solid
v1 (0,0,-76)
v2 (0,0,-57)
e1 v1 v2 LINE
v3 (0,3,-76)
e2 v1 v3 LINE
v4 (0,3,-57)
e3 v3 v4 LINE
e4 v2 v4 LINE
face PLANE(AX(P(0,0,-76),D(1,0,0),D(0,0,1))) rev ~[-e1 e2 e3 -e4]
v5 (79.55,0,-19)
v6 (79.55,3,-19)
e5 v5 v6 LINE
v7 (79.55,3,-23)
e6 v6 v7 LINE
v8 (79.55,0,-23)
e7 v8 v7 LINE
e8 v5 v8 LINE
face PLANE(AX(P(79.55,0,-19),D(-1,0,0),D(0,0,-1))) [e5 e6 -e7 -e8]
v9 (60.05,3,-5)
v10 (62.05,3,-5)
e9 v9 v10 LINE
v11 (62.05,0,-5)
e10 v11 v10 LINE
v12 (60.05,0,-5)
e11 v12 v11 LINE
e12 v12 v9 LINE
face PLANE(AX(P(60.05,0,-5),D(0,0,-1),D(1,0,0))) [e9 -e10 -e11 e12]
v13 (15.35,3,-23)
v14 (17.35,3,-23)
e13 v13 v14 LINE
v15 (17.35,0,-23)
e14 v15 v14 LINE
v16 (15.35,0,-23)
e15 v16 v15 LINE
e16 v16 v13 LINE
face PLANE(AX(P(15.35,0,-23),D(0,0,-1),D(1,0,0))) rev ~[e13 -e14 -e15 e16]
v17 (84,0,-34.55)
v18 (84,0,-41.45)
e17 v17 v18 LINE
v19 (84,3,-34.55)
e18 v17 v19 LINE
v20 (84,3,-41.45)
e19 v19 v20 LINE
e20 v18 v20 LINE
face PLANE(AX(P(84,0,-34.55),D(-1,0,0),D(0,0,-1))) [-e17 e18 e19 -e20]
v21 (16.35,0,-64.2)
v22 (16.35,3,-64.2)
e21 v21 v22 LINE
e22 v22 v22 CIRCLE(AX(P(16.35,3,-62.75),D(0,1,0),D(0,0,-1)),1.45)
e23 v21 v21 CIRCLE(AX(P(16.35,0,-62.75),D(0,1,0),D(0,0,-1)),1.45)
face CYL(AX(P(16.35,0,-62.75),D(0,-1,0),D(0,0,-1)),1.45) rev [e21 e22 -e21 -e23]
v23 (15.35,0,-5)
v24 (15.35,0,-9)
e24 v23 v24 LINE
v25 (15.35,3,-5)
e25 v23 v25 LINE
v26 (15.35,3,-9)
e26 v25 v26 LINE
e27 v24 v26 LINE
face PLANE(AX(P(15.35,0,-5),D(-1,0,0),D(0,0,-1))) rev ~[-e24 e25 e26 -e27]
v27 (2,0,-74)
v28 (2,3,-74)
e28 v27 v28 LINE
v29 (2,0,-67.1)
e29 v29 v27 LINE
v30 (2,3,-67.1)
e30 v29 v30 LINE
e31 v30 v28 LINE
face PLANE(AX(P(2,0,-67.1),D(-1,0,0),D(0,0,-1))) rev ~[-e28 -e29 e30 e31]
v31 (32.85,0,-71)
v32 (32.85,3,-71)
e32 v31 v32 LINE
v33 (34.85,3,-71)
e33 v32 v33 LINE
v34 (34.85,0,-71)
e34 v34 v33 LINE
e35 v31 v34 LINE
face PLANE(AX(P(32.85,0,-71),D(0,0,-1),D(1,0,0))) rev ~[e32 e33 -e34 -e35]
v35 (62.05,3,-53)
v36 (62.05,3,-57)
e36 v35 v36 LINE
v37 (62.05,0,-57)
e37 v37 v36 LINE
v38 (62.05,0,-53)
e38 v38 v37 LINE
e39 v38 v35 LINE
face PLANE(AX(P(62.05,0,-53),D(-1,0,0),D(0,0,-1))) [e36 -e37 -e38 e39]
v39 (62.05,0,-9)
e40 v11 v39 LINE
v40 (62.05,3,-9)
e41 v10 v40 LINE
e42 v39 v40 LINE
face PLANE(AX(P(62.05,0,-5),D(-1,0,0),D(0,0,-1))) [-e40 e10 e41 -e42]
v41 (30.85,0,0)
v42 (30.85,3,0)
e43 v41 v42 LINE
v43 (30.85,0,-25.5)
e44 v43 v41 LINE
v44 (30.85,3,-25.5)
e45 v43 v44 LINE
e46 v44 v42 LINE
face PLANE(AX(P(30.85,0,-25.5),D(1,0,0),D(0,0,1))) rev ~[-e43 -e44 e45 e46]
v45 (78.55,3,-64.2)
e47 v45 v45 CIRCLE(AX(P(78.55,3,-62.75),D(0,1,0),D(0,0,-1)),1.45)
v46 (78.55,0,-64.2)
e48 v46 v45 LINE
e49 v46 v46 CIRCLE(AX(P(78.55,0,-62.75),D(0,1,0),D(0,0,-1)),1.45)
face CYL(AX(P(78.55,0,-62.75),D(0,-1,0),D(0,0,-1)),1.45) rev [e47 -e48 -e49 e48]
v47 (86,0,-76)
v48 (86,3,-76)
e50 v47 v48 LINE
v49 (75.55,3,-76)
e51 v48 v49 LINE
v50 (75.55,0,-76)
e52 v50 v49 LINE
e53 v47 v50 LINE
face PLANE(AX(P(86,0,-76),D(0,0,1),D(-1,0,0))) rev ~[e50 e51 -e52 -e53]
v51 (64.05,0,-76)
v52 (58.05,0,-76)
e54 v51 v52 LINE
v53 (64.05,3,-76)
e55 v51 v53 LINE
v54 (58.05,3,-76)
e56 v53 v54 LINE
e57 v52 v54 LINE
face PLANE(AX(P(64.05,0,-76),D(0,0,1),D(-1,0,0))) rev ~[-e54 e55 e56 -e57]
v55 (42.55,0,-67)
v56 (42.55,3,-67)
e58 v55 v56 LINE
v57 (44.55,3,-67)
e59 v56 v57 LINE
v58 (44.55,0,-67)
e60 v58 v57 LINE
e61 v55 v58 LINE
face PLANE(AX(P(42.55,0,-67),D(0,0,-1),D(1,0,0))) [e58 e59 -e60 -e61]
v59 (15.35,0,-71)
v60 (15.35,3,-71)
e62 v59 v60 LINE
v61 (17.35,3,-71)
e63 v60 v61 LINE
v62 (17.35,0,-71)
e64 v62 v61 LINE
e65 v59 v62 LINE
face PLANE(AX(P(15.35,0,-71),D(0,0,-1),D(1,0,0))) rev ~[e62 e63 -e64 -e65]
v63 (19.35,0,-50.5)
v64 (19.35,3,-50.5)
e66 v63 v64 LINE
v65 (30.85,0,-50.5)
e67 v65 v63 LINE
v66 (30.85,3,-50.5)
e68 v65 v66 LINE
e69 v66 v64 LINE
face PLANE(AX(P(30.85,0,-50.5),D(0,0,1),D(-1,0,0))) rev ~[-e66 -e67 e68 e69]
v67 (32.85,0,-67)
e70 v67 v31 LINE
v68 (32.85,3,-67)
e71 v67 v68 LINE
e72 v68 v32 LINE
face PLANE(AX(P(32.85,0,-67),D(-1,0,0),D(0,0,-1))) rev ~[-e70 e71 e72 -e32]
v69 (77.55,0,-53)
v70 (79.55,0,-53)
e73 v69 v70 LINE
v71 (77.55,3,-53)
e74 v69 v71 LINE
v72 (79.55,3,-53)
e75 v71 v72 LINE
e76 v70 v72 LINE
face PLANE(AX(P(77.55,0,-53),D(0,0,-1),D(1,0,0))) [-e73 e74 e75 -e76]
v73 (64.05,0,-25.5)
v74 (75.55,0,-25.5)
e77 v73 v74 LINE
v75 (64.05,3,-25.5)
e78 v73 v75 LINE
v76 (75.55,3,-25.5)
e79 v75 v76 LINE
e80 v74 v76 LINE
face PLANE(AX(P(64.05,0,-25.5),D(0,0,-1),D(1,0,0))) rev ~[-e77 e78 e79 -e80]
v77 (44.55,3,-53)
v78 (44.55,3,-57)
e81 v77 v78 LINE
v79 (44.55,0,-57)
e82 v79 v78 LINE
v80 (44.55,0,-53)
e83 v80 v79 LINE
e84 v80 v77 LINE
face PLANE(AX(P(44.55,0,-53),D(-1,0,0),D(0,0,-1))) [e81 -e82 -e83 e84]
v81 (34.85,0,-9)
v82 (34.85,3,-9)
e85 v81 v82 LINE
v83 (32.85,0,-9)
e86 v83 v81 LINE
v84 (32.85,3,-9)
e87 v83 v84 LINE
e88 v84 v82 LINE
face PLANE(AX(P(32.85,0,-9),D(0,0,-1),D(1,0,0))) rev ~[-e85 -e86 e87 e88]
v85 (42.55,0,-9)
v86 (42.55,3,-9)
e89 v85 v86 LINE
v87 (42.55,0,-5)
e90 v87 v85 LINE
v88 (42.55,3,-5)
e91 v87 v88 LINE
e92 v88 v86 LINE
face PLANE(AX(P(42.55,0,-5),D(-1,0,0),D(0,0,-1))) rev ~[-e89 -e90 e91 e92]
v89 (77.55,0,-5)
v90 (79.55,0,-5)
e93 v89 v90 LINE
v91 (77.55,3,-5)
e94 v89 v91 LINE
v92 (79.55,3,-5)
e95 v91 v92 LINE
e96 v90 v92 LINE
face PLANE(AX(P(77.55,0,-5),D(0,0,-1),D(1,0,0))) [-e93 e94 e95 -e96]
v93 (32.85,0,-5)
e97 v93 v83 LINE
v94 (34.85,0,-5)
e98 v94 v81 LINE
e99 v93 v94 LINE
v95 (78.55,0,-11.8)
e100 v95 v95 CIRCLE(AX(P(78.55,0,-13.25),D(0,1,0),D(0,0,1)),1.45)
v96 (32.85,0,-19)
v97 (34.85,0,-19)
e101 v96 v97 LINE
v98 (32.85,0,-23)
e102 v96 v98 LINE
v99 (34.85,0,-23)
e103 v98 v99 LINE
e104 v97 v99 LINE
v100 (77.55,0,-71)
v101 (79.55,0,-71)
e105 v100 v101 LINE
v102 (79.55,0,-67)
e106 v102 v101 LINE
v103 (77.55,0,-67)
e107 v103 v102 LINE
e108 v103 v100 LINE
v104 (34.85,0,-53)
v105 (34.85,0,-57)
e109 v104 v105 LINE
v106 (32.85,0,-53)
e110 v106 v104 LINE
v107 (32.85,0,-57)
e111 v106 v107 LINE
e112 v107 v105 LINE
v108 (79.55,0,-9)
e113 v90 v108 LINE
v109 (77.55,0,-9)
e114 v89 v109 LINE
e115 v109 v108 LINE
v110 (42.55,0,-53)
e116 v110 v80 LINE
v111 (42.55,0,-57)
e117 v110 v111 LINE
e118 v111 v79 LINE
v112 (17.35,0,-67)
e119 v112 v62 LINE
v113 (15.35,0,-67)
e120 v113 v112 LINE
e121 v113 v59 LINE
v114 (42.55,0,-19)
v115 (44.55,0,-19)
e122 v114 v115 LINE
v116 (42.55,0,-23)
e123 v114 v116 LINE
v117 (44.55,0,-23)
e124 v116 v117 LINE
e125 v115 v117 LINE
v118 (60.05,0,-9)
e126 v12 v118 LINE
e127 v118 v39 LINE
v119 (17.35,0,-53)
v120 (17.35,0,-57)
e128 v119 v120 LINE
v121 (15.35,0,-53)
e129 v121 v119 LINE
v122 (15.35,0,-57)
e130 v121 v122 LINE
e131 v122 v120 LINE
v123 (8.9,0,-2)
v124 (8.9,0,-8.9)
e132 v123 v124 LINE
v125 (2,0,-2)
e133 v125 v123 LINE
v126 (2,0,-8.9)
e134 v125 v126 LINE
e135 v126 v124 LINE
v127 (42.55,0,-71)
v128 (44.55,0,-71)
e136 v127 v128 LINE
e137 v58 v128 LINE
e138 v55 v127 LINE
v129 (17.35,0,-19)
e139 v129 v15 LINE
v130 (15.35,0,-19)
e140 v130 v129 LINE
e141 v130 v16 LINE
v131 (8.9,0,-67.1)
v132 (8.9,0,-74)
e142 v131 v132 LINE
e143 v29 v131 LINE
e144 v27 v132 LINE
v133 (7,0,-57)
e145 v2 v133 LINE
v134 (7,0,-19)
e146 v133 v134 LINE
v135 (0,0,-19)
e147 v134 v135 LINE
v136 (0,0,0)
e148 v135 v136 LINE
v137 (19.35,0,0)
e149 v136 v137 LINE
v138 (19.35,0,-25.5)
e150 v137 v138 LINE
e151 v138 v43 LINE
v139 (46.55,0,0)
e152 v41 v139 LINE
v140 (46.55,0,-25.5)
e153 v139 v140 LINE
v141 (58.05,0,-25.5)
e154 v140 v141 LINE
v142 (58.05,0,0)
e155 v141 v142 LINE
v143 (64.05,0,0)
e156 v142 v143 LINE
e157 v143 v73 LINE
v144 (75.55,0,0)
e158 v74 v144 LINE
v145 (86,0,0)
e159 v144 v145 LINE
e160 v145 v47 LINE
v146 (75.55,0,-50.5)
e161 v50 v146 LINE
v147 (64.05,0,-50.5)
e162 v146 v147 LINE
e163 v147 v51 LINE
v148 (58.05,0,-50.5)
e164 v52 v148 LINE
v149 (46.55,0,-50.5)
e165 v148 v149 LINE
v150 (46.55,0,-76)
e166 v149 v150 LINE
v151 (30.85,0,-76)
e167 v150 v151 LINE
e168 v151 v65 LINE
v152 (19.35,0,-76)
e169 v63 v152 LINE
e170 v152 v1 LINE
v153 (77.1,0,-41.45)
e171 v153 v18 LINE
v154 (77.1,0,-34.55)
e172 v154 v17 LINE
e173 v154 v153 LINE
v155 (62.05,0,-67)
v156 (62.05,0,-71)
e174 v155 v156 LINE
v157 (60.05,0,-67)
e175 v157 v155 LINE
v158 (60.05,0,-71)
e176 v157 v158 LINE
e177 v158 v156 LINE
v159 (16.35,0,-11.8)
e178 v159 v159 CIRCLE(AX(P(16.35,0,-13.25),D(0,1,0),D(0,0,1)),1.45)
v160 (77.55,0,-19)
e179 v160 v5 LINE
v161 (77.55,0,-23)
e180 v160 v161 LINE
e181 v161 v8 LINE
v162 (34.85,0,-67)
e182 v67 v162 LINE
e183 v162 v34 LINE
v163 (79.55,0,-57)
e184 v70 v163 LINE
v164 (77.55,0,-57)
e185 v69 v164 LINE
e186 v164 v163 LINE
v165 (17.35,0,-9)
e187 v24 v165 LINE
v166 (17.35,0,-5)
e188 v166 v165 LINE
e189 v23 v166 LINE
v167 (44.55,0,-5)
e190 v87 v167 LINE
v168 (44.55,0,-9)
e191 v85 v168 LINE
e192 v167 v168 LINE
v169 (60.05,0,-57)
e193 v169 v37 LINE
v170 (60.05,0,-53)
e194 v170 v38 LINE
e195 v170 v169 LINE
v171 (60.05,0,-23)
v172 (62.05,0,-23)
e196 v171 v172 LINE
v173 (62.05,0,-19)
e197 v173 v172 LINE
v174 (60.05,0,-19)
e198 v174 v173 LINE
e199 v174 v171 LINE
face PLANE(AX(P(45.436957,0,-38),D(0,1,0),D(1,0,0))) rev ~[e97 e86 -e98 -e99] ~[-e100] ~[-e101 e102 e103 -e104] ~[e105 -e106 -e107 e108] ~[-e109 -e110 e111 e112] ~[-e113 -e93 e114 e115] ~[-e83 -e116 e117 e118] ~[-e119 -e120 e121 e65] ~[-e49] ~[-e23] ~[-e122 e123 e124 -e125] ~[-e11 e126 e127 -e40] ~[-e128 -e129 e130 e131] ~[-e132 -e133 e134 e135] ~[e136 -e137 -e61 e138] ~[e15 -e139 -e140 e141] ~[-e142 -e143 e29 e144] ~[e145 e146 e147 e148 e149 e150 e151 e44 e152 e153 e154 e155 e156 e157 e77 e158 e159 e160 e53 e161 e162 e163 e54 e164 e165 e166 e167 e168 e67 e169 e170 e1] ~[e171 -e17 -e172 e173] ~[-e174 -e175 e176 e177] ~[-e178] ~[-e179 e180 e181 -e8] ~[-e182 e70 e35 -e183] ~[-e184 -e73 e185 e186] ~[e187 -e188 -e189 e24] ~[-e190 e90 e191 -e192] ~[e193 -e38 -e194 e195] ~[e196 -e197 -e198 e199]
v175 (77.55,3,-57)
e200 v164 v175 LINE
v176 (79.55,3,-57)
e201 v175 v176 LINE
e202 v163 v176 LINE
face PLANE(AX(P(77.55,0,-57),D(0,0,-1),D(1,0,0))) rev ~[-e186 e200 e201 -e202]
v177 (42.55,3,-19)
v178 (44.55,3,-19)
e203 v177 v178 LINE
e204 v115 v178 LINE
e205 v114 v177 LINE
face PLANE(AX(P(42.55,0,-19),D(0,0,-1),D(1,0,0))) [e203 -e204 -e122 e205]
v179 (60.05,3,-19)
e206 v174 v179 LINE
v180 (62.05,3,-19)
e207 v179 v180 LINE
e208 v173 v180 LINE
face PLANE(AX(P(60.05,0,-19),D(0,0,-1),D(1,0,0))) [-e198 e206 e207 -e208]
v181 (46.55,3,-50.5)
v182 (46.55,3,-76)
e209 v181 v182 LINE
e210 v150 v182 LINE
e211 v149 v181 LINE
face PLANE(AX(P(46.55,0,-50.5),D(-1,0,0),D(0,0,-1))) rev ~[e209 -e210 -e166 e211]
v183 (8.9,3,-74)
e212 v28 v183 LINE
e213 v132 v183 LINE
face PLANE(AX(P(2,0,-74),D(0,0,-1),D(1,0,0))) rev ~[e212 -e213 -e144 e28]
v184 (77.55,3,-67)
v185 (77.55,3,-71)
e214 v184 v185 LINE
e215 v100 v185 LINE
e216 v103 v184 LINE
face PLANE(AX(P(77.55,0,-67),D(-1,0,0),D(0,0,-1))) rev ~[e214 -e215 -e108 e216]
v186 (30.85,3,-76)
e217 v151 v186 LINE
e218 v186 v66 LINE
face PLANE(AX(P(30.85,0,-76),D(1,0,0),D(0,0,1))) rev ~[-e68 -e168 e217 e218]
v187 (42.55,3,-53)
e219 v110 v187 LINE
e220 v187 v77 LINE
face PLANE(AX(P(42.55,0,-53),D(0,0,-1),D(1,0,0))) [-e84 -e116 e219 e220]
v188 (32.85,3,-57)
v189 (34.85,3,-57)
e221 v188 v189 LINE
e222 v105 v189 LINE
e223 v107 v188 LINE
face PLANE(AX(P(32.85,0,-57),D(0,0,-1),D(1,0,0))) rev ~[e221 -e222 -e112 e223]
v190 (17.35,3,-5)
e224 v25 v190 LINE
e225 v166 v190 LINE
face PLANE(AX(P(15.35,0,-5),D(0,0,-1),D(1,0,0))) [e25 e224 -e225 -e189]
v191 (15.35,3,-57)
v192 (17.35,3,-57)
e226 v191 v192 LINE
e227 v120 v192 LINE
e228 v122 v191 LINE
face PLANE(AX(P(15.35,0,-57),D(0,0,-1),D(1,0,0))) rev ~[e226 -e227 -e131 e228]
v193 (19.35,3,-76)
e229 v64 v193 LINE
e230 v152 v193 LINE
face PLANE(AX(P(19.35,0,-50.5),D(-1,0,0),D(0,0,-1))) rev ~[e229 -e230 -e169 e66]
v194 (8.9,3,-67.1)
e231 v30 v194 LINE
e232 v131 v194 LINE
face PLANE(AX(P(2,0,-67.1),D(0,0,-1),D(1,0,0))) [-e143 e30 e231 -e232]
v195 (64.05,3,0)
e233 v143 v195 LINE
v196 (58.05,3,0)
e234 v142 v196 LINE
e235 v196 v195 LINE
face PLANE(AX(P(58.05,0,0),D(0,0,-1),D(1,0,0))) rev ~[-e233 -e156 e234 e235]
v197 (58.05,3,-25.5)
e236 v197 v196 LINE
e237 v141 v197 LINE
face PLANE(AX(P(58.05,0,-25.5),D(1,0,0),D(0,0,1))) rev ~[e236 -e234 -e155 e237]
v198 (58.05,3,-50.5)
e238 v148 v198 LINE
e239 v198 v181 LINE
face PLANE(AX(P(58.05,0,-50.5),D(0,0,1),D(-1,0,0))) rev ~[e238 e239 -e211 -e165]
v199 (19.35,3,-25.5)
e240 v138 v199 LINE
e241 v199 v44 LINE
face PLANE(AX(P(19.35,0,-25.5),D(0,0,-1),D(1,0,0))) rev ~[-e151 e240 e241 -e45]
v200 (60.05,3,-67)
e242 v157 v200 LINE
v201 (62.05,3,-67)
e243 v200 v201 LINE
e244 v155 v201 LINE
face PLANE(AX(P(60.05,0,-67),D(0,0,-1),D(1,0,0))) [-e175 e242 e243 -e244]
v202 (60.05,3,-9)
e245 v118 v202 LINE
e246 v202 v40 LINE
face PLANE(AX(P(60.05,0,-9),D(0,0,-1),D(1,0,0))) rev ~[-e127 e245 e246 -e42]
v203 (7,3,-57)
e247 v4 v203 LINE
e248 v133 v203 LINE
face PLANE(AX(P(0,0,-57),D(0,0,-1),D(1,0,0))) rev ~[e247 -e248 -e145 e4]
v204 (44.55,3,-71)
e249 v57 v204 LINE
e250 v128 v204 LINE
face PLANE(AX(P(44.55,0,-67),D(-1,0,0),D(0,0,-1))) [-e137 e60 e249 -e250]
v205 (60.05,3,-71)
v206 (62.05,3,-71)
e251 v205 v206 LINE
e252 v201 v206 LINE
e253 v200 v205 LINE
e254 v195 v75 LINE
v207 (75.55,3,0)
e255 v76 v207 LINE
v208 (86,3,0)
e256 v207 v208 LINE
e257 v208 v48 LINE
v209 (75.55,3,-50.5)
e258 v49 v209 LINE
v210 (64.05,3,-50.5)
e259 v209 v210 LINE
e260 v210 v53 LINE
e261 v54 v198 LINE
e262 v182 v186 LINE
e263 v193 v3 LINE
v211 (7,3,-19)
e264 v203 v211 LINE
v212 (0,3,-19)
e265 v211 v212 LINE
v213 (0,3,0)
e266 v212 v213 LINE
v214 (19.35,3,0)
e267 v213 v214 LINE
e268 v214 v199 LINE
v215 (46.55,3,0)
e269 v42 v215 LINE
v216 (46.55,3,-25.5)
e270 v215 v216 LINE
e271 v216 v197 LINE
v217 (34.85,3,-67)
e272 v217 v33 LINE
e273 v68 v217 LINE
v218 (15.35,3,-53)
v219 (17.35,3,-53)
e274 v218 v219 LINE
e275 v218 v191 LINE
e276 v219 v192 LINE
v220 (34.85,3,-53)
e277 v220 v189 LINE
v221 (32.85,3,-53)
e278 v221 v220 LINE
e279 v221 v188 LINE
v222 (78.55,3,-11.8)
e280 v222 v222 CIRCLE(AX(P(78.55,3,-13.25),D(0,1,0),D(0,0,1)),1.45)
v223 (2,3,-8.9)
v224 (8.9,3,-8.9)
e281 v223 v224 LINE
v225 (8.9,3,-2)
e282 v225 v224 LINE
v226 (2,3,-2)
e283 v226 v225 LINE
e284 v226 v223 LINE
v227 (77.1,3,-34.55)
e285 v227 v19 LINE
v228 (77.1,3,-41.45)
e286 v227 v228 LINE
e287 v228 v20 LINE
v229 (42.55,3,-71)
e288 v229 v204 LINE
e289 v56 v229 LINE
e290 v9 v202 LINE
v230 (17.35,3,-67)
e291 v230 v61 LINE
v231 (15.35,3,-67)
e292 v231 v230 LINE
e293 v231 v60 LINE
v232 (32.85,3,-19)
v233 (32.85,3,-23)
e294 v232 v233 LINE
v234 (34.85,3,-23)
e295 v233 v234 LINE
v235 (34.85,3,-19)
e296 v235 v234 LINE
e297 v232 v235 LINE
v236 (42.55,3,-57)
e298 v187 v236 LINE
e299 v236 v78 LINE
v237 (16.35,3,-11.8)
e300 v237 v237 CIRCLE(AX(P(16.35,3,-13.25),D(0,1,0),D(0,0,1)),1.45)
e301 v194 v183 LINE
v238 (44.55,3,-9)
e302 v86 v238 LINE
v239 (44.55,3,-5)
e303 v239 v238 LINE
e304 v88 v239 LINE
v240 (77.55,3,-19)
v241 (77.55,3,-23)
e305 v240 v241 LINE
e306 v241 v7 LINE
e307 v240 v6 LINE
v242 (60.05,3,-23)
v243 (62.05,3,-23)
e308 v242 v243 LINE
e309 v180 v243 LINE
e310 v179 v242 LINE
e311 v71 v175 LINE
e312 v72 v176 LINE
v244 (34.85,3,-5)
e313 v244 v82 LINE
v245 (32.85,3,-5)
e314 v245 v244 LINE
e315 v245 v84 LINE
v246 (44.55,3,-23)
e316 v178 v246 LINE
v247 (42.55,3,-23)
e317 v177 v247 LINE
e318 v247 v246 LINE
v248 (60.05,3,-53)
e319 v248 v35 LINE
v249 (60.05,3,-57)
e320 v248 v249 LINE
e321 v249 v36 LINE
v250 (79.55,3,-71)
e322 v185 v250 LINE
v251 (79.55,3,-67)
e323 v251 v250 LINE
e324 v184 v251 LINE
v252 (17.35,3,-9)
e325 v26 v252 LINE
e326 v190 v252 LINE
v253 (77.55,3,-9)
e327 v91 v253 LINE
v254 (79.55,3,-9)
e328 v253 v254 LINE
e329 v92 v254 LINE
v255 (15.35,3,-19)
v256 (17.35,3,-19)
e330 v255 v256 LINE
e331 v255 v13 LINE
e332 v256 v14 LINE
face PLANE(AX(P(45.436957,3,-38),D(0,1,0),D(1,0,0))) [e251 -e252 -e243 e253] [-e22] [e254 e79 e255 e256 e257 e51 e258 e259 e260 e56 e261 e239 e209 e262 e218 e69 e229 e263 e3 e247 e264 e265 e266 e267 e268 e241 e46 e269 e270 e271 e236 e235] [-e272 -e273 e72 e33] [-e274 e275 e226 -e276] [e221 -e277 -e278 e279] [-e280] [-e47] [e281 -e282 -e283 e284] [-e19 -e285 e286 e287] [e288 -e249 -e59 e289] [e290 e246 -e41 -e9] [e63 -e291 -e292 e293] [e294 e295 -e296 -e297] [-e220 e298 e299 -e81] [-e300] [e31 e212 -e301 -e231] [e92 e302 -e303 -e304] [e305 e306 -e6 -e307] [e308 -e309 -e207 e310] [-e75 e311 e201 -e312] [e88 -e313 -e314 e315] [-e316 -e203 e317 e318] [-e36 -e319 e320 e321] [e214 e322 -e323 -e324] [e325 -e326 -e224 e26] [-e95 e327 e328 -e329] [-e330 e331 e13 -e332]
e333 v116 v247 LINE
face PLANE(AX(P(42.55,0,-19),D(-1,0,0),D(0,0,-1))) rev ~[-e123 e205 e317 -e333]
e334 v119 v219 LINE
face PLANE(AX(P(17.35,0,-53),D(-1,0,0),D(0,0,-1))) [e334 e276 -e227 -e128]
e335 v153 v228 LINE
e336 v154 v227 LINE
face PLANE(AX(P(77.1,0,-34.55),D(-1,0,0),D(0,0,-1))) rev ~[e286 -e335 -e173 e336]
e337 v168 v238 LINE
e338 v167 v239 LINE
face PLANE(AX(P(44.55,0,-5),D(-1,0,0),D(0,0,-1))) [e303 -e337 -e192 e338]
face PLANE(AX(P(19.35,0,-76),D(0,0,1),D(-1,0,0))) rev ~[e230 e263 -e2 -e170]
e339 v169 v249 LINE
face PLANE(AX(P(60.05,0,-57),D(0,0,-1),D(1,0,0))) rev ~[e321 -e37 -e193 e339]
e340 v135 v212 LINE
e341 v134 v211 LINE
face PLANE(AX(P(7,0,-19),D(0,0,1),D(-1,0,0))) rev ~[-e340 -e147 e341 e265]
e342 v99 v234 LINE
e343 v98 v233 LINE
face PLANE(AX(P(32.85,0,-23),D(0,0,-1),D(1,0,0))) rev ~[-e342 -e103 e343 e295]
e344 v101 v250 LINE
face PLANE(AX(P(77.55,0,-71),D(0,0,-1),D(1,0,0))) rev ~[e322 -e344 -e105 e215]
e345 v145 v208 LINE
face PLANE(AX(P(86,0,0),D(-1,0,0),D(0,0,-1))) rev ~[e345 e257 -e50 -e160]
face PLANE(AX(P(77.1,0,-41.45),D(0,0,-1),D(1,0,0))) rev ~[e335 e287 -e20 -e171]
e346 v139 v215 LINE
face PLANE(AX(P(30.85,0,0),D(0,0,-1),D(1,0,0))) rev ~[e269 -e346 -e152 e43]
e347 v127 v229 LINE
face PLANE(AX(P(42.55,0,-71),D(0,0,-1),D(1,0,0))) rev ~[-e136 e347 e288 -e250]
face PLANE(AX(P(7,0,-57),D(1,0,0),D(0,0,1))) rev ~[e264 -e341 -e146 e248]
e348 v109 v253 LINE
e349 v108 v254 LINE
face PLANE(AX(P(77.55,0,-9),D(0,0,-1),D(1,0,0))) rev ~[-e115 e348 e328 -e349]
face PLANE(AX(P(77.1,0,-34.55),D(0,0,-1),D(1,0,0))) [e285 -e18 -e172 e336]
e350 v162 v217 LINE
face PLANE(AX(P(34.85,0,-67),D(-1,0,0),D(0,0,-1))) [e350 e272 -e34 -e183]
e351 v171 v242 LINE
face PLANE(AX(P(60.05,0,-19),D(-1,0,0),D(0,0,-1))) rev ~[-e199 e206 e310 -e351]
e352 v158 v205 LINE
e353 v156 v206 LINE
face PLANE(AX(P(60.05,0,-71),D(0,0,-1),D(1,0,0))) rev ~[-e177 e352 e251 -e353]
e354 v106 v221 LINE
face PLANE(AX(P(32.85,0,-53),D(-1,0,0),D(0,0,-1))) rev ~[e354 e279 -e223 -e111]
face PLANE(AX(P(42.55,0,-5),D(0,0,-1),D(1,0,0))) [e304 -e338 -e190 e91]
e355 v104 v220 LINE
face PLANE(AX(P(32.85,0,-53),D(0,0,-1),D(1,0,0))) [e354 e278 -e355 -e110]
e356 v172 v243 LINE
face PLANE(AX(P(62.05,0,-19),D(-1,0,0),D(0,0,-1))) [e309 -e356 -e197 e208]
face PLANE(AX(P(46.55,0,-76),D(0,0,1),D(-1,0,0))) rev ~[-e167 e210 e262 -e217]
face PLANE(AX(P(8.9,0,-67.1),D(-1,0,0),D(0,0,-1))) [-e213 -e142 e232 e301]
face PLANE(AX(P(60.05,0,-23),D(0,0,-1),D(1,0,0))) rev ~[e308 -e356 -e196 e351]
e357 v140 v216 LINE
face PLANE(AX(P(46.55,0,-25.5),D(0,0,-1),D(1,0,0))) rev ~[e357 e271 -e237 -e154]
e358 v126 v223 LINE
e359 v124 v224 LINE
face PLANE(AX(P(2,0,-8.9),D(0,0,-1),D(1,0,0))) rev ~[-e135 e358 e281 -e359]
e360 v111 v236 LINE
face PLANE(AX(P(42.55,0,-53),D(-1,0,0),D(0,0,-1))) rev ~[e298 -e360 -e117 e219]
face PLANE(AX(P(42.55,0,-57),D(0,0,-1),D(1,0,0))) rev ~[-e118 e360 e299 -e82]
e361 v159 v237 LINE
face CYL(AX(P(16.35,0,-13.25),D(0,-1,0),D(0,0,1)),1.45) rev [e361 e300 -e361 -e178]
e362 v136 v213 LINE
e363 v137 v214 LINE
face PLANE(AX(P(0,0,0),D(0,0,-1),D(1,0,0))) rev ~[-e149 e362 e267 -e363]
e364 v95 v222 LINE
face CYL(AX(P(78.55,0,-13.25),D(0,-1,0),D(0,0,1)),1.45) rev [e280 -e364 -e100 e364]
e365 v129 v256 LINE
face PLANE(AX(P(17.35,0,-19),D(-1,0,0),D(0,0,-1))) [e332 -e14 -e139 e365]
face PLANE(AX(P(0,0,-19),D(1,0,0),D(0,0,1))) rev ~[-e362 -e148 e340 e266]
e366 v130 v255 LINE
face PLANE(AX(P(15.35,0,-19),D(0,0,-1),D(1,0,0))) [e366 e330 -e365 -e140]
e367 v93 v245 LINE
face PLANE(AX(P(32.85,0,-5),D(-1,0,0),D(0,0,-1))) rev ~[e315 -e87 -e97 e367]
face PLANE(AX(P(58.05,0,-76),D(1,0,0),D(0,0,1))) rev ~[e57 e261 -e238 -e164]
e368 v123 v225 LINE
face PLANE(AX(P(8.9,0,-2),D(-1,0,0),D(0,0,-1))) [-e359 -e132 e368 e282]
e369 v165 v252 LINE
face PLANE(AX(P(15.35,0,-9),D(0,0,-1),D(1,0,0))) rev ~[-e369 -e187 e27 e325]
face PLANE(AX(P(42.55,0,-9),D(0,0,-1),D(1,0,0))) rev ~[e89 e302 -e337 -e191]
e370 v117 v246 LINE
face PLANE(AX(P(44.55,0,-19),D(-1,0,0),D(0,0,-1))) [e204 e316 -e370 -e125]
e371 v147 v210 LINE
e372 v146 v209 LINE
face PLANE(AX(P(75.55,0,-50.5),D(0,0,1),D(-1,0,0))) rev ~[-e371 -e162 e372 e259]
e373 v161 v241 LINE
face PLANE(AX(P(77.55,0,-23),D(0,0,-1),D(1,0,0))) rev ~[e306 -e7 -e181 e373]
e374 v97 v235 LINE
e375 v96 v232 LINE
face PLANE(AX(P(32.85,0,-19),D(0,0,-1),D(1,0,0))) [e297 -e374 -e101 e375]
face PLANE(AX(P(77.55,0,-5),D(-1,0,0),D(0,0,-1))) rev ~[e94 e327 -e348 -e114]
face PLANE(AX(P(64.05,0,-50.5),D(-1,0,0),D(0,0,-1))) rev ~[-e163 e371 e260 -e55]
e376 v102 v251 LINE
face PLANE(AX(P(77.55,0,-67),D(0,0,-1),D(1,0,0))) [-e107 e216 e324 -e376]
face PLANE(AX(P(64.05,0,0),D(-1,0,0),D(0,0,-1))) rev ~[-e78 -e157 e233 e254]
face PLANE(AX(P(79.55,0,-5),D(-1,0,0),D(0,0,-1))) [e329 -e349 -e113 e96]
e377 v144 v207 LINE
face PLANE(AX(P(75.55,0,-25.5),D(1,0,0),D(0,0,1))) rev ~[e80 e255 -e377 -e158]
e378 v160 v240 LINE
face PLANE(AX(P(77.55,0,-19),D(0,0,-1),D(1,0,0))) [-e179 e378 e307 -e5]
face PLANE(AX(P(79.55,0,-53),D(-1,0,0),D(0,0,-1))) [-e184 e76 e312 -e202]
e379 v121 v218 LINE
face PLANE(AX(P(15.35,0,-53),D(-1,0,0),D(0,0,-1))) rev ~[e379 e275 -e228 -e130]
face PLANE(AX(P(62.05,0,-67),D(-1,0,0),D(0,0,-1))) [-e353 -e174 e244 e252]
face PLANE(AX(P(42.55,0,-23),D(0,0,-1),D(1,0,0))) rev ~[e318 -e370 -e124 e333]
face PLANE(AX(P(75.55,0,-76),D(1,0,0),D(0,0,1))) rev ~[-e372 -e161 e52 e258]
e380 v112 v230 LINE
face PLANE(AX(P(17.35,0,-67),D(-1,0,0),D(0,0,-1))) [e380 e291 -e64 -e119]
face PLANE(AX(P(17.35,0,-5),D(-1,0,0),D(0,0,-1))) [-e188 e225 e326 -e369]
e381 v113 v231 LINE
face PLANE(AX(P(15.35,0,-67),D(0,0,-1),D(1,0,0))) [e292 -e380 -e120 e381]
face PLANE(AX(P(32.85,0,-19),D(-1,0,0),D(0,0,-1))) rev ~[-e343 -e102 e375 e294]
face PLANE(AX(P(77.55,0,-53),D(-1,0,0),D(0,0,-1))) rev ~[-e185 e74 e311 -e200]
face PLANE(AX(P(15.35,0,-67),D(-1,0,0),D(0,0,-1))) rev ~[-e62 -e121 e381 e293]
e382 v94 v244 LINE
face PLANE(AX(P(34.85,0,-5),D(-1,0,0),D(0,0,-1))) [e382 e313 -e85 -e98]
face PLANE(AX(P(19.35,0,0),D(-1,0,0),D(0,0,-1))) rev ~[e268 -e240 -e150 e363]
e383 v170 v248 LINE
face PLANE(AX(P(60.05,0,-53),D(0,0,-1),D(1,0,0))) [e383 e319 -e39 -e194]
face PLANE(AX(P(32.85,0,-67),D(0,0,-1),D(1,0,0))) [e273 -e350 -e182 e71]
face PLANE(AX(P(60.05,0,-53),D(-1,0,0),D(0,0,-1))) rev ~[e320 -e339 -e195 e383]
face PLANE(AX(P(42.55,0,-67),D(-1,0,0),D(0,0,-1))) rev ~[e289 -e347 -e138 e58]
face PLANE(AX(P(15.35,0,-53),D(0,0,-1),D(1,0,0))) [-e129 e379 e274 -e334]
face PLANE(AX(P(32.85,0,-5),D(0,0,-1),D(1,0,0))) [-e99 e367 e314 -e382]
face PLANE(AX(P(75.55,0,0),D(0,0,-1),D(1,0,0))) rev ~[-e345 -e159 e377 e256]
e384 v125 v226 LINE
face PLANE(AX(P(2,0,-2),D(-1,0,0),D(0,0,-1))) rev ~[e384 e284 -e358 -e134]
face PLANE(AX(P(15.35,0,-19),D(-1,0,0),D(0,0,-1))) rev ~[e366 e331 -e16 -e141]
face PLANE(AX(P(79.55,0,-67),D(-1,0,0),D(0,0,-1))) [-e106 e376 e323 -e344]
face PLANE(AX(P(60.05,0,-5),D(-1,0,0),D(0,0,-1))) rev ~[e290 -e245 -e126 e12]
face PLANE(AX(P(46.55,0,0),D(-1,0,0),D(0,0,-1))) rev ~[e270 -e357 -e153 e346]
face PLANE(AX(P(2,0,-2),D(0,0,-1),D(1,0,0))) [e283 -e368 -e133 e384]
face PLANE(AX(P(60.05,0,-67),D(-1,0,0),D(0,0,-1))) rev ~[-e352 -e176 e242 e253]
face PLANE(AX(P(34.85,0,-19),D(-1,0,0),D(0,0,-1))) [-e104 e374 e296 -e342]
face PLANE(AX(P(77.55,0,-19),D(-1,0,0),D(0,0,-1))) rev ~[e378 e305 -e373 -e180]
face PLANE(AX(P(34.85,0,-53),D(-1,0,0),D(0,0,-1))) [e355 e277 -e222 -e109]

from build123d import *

# Parameters (mm, degrees)
ESQUISSE1_R        = 1.45
ESQUISSE1_W        = 2
ESQUISSE1_H        = 4
ESQUISSE1_W_2      = 6.9
ESQUISSE1_H_2      = 6.9
BOSS_EXTRU_1_DEPTH = 3


with BuildPart() as part:
    # Esquisse1 → Boss.-Extru.1 (new body)
    with BuildSketch(Plane(origin=(0, 0, 0), x_dir=(1, 0, 0), z_dir=(0, 1, 0))):
        Polygon((30.85, 0), (46.55, 0), (46.55, 25.5), (58.05, 25.5), (58.05, 0), (64.05, 0), (64.05, 25.5), (75.55, 25.5), (75.55, 0), (86, 0), (86, 76), (75.55, 76), (75.55, 50.5), (64.05, 50.5), (64.05, 76), (58.05, 76), (58.05, 50.5), (46.55, 50.5), (46.55, 76), (30.85, 76), (30.85, 50.5), (19.35, 50.5), (19.35, 76), (0, 76), (0, 57), (7, 57), (7, 19), (0, 19), (0, 0), (19.35, 0), (19.35, 25.5), (30.85, 25.5), align=None)
        with Locations(Location((16.35, 13.25, 0), (0, 0, 270))):
            Circle(ESQUISSE1_R, mode=Mode.SUBTRACT)
        with Locations(Location((78.55, 13.25, 0), (0, 0, 270))):
            Circle(ESQUISSE1_R, mode=Mode.SUBTRACT)
        with Locations(Location((78.55, 62.75, 0), (0, 0, 90))):
            Circle(ESQUISSE1_R, mode=Mode.SUBTRACT)
        with Locations(Location((16.35, 62.75, 0), (0, 0, 90))):
            Circle(ESQUISSE1_R, mode=Mode.SUBTRACT)
        with Locations((61.05, 7)):
            Rectangle(ESQUISSE1_W, ESQUISSE1_H, mode=Mode.SUBTRACT)
        with Locations((16.35, 7)):
            Rectangle(ESQUISSE1_W, ESQUISSE1_H, mode=Mode.SUBTRACT)
        with Locations((80.55, 38)):
            Rectangle(ESQUISSE1_W_2, ESQUISSE1_H_2, mode=Mode.SUBTRACT)
        with Locations((33.85, 7)):
            Rectangle(ESQUISSE1_W, ESQUISSE1_H, mode=Mode.SUBTRACT)
        with Locations((5.45, 5.45)):
            Rectangle(ESQUISSE1_W_2, ESQUISSE1_H_2, mode=Mode.SUBTRACT)
        with Locations((33.85, 21)):
            Rectangle(ESQUISSE1_W, ESQUISSE1_H, mode=Mode.SUBTRACT)
        with Locations((16.35, 21)):
            Rectangle(ESQUISSE1_W, ESQUISSE1_H, mode=Mode.SUBTRACT)
        with Locations((78.55, 7)):
            Rectangle(ESQUISSE1_W, ESQUISSE1_H, mode=Mode.SUBTRACT)
        with Locations((78.55, 21)):
            Rectangle(ESQUISSE1_W, ESQUISSE1_H, mode=Mode.SUBTRACT)
        with Locations((61.05, 21)):
            Rectangle(ESQUISSE1_W, ESQUISSE1_H, mode=Mode.SUBTRACT)
        with Locations((61.05, 55)):
            Rectangle(ESQUISSE1_W, ESQUISSE1_H, mode=Mode.SUBTRACT)
        with Locations((78.55, 55)):
            Rectangle(ESQUISSE1_W, ESQUISSE1_H, mode=Mode.SUBTRACT)
        with Locations((78.55, 69)):
            Rectangle(ESQUISSE1_W, ESQUISSE1_H, mode=Mode.SUBTRACT)
        with Locations((16.35, 55)):
            Rectangle(ESQUISSE1_W, ESQUISSE1_H, mode=Mode.SUBTRACT)
        with Locations((33.85, 55)):
            Rectangle(ESQUISSE1_W, ESQUISSE1_H, mode=Mode.SUBTRACT)
        with Locations((33.85, 69)):
            Rectangle(ESQUISSE1_W, ESQUISSE1_H, mode=Mode.SUBTRACT)
        with Locations((5.45, 70.55)):
            Rectangle(ESQUISSE1_W_2, ESQUISSE1_H_2, mode=Mode.SUBTRACT)
        with Locations((61.05, 69)):
            Rectangle(ESQUISSE1_W, ESQUISSE1_H, mode=Mode.SUBTRACT)
        with Locations((16.35, 69)):
            Rectangle(ESQUISSE1_W, ESQUISSE1_H, mode=Mode.SUBTRACT)
        with Locations((43.55, 55)):
            Rectangle(ESQUISSE1_W, ESQUISSE1_H, mode=Mode.SUBTRACT)
        with Locations((43.55, 7)):
            Rectangle(ESQUISSE1_W, ESQUISSE1_H, mode=Mode.SUBTRACT)
        with Locations((43.55, 21)):
            Rectangle(ESQUISSE1_W, ESQUISSE1_H, mode=Mode.SUBTRACT)
        with Locations((43.55, 69)):
            Rectangle(ESQUISSE1_W, ESQUISSE1_H, mode=Mode.SUBTRACT)
    extrude(amount=BOSS_EXTRU_1_DEPTH)


solid = part.part
